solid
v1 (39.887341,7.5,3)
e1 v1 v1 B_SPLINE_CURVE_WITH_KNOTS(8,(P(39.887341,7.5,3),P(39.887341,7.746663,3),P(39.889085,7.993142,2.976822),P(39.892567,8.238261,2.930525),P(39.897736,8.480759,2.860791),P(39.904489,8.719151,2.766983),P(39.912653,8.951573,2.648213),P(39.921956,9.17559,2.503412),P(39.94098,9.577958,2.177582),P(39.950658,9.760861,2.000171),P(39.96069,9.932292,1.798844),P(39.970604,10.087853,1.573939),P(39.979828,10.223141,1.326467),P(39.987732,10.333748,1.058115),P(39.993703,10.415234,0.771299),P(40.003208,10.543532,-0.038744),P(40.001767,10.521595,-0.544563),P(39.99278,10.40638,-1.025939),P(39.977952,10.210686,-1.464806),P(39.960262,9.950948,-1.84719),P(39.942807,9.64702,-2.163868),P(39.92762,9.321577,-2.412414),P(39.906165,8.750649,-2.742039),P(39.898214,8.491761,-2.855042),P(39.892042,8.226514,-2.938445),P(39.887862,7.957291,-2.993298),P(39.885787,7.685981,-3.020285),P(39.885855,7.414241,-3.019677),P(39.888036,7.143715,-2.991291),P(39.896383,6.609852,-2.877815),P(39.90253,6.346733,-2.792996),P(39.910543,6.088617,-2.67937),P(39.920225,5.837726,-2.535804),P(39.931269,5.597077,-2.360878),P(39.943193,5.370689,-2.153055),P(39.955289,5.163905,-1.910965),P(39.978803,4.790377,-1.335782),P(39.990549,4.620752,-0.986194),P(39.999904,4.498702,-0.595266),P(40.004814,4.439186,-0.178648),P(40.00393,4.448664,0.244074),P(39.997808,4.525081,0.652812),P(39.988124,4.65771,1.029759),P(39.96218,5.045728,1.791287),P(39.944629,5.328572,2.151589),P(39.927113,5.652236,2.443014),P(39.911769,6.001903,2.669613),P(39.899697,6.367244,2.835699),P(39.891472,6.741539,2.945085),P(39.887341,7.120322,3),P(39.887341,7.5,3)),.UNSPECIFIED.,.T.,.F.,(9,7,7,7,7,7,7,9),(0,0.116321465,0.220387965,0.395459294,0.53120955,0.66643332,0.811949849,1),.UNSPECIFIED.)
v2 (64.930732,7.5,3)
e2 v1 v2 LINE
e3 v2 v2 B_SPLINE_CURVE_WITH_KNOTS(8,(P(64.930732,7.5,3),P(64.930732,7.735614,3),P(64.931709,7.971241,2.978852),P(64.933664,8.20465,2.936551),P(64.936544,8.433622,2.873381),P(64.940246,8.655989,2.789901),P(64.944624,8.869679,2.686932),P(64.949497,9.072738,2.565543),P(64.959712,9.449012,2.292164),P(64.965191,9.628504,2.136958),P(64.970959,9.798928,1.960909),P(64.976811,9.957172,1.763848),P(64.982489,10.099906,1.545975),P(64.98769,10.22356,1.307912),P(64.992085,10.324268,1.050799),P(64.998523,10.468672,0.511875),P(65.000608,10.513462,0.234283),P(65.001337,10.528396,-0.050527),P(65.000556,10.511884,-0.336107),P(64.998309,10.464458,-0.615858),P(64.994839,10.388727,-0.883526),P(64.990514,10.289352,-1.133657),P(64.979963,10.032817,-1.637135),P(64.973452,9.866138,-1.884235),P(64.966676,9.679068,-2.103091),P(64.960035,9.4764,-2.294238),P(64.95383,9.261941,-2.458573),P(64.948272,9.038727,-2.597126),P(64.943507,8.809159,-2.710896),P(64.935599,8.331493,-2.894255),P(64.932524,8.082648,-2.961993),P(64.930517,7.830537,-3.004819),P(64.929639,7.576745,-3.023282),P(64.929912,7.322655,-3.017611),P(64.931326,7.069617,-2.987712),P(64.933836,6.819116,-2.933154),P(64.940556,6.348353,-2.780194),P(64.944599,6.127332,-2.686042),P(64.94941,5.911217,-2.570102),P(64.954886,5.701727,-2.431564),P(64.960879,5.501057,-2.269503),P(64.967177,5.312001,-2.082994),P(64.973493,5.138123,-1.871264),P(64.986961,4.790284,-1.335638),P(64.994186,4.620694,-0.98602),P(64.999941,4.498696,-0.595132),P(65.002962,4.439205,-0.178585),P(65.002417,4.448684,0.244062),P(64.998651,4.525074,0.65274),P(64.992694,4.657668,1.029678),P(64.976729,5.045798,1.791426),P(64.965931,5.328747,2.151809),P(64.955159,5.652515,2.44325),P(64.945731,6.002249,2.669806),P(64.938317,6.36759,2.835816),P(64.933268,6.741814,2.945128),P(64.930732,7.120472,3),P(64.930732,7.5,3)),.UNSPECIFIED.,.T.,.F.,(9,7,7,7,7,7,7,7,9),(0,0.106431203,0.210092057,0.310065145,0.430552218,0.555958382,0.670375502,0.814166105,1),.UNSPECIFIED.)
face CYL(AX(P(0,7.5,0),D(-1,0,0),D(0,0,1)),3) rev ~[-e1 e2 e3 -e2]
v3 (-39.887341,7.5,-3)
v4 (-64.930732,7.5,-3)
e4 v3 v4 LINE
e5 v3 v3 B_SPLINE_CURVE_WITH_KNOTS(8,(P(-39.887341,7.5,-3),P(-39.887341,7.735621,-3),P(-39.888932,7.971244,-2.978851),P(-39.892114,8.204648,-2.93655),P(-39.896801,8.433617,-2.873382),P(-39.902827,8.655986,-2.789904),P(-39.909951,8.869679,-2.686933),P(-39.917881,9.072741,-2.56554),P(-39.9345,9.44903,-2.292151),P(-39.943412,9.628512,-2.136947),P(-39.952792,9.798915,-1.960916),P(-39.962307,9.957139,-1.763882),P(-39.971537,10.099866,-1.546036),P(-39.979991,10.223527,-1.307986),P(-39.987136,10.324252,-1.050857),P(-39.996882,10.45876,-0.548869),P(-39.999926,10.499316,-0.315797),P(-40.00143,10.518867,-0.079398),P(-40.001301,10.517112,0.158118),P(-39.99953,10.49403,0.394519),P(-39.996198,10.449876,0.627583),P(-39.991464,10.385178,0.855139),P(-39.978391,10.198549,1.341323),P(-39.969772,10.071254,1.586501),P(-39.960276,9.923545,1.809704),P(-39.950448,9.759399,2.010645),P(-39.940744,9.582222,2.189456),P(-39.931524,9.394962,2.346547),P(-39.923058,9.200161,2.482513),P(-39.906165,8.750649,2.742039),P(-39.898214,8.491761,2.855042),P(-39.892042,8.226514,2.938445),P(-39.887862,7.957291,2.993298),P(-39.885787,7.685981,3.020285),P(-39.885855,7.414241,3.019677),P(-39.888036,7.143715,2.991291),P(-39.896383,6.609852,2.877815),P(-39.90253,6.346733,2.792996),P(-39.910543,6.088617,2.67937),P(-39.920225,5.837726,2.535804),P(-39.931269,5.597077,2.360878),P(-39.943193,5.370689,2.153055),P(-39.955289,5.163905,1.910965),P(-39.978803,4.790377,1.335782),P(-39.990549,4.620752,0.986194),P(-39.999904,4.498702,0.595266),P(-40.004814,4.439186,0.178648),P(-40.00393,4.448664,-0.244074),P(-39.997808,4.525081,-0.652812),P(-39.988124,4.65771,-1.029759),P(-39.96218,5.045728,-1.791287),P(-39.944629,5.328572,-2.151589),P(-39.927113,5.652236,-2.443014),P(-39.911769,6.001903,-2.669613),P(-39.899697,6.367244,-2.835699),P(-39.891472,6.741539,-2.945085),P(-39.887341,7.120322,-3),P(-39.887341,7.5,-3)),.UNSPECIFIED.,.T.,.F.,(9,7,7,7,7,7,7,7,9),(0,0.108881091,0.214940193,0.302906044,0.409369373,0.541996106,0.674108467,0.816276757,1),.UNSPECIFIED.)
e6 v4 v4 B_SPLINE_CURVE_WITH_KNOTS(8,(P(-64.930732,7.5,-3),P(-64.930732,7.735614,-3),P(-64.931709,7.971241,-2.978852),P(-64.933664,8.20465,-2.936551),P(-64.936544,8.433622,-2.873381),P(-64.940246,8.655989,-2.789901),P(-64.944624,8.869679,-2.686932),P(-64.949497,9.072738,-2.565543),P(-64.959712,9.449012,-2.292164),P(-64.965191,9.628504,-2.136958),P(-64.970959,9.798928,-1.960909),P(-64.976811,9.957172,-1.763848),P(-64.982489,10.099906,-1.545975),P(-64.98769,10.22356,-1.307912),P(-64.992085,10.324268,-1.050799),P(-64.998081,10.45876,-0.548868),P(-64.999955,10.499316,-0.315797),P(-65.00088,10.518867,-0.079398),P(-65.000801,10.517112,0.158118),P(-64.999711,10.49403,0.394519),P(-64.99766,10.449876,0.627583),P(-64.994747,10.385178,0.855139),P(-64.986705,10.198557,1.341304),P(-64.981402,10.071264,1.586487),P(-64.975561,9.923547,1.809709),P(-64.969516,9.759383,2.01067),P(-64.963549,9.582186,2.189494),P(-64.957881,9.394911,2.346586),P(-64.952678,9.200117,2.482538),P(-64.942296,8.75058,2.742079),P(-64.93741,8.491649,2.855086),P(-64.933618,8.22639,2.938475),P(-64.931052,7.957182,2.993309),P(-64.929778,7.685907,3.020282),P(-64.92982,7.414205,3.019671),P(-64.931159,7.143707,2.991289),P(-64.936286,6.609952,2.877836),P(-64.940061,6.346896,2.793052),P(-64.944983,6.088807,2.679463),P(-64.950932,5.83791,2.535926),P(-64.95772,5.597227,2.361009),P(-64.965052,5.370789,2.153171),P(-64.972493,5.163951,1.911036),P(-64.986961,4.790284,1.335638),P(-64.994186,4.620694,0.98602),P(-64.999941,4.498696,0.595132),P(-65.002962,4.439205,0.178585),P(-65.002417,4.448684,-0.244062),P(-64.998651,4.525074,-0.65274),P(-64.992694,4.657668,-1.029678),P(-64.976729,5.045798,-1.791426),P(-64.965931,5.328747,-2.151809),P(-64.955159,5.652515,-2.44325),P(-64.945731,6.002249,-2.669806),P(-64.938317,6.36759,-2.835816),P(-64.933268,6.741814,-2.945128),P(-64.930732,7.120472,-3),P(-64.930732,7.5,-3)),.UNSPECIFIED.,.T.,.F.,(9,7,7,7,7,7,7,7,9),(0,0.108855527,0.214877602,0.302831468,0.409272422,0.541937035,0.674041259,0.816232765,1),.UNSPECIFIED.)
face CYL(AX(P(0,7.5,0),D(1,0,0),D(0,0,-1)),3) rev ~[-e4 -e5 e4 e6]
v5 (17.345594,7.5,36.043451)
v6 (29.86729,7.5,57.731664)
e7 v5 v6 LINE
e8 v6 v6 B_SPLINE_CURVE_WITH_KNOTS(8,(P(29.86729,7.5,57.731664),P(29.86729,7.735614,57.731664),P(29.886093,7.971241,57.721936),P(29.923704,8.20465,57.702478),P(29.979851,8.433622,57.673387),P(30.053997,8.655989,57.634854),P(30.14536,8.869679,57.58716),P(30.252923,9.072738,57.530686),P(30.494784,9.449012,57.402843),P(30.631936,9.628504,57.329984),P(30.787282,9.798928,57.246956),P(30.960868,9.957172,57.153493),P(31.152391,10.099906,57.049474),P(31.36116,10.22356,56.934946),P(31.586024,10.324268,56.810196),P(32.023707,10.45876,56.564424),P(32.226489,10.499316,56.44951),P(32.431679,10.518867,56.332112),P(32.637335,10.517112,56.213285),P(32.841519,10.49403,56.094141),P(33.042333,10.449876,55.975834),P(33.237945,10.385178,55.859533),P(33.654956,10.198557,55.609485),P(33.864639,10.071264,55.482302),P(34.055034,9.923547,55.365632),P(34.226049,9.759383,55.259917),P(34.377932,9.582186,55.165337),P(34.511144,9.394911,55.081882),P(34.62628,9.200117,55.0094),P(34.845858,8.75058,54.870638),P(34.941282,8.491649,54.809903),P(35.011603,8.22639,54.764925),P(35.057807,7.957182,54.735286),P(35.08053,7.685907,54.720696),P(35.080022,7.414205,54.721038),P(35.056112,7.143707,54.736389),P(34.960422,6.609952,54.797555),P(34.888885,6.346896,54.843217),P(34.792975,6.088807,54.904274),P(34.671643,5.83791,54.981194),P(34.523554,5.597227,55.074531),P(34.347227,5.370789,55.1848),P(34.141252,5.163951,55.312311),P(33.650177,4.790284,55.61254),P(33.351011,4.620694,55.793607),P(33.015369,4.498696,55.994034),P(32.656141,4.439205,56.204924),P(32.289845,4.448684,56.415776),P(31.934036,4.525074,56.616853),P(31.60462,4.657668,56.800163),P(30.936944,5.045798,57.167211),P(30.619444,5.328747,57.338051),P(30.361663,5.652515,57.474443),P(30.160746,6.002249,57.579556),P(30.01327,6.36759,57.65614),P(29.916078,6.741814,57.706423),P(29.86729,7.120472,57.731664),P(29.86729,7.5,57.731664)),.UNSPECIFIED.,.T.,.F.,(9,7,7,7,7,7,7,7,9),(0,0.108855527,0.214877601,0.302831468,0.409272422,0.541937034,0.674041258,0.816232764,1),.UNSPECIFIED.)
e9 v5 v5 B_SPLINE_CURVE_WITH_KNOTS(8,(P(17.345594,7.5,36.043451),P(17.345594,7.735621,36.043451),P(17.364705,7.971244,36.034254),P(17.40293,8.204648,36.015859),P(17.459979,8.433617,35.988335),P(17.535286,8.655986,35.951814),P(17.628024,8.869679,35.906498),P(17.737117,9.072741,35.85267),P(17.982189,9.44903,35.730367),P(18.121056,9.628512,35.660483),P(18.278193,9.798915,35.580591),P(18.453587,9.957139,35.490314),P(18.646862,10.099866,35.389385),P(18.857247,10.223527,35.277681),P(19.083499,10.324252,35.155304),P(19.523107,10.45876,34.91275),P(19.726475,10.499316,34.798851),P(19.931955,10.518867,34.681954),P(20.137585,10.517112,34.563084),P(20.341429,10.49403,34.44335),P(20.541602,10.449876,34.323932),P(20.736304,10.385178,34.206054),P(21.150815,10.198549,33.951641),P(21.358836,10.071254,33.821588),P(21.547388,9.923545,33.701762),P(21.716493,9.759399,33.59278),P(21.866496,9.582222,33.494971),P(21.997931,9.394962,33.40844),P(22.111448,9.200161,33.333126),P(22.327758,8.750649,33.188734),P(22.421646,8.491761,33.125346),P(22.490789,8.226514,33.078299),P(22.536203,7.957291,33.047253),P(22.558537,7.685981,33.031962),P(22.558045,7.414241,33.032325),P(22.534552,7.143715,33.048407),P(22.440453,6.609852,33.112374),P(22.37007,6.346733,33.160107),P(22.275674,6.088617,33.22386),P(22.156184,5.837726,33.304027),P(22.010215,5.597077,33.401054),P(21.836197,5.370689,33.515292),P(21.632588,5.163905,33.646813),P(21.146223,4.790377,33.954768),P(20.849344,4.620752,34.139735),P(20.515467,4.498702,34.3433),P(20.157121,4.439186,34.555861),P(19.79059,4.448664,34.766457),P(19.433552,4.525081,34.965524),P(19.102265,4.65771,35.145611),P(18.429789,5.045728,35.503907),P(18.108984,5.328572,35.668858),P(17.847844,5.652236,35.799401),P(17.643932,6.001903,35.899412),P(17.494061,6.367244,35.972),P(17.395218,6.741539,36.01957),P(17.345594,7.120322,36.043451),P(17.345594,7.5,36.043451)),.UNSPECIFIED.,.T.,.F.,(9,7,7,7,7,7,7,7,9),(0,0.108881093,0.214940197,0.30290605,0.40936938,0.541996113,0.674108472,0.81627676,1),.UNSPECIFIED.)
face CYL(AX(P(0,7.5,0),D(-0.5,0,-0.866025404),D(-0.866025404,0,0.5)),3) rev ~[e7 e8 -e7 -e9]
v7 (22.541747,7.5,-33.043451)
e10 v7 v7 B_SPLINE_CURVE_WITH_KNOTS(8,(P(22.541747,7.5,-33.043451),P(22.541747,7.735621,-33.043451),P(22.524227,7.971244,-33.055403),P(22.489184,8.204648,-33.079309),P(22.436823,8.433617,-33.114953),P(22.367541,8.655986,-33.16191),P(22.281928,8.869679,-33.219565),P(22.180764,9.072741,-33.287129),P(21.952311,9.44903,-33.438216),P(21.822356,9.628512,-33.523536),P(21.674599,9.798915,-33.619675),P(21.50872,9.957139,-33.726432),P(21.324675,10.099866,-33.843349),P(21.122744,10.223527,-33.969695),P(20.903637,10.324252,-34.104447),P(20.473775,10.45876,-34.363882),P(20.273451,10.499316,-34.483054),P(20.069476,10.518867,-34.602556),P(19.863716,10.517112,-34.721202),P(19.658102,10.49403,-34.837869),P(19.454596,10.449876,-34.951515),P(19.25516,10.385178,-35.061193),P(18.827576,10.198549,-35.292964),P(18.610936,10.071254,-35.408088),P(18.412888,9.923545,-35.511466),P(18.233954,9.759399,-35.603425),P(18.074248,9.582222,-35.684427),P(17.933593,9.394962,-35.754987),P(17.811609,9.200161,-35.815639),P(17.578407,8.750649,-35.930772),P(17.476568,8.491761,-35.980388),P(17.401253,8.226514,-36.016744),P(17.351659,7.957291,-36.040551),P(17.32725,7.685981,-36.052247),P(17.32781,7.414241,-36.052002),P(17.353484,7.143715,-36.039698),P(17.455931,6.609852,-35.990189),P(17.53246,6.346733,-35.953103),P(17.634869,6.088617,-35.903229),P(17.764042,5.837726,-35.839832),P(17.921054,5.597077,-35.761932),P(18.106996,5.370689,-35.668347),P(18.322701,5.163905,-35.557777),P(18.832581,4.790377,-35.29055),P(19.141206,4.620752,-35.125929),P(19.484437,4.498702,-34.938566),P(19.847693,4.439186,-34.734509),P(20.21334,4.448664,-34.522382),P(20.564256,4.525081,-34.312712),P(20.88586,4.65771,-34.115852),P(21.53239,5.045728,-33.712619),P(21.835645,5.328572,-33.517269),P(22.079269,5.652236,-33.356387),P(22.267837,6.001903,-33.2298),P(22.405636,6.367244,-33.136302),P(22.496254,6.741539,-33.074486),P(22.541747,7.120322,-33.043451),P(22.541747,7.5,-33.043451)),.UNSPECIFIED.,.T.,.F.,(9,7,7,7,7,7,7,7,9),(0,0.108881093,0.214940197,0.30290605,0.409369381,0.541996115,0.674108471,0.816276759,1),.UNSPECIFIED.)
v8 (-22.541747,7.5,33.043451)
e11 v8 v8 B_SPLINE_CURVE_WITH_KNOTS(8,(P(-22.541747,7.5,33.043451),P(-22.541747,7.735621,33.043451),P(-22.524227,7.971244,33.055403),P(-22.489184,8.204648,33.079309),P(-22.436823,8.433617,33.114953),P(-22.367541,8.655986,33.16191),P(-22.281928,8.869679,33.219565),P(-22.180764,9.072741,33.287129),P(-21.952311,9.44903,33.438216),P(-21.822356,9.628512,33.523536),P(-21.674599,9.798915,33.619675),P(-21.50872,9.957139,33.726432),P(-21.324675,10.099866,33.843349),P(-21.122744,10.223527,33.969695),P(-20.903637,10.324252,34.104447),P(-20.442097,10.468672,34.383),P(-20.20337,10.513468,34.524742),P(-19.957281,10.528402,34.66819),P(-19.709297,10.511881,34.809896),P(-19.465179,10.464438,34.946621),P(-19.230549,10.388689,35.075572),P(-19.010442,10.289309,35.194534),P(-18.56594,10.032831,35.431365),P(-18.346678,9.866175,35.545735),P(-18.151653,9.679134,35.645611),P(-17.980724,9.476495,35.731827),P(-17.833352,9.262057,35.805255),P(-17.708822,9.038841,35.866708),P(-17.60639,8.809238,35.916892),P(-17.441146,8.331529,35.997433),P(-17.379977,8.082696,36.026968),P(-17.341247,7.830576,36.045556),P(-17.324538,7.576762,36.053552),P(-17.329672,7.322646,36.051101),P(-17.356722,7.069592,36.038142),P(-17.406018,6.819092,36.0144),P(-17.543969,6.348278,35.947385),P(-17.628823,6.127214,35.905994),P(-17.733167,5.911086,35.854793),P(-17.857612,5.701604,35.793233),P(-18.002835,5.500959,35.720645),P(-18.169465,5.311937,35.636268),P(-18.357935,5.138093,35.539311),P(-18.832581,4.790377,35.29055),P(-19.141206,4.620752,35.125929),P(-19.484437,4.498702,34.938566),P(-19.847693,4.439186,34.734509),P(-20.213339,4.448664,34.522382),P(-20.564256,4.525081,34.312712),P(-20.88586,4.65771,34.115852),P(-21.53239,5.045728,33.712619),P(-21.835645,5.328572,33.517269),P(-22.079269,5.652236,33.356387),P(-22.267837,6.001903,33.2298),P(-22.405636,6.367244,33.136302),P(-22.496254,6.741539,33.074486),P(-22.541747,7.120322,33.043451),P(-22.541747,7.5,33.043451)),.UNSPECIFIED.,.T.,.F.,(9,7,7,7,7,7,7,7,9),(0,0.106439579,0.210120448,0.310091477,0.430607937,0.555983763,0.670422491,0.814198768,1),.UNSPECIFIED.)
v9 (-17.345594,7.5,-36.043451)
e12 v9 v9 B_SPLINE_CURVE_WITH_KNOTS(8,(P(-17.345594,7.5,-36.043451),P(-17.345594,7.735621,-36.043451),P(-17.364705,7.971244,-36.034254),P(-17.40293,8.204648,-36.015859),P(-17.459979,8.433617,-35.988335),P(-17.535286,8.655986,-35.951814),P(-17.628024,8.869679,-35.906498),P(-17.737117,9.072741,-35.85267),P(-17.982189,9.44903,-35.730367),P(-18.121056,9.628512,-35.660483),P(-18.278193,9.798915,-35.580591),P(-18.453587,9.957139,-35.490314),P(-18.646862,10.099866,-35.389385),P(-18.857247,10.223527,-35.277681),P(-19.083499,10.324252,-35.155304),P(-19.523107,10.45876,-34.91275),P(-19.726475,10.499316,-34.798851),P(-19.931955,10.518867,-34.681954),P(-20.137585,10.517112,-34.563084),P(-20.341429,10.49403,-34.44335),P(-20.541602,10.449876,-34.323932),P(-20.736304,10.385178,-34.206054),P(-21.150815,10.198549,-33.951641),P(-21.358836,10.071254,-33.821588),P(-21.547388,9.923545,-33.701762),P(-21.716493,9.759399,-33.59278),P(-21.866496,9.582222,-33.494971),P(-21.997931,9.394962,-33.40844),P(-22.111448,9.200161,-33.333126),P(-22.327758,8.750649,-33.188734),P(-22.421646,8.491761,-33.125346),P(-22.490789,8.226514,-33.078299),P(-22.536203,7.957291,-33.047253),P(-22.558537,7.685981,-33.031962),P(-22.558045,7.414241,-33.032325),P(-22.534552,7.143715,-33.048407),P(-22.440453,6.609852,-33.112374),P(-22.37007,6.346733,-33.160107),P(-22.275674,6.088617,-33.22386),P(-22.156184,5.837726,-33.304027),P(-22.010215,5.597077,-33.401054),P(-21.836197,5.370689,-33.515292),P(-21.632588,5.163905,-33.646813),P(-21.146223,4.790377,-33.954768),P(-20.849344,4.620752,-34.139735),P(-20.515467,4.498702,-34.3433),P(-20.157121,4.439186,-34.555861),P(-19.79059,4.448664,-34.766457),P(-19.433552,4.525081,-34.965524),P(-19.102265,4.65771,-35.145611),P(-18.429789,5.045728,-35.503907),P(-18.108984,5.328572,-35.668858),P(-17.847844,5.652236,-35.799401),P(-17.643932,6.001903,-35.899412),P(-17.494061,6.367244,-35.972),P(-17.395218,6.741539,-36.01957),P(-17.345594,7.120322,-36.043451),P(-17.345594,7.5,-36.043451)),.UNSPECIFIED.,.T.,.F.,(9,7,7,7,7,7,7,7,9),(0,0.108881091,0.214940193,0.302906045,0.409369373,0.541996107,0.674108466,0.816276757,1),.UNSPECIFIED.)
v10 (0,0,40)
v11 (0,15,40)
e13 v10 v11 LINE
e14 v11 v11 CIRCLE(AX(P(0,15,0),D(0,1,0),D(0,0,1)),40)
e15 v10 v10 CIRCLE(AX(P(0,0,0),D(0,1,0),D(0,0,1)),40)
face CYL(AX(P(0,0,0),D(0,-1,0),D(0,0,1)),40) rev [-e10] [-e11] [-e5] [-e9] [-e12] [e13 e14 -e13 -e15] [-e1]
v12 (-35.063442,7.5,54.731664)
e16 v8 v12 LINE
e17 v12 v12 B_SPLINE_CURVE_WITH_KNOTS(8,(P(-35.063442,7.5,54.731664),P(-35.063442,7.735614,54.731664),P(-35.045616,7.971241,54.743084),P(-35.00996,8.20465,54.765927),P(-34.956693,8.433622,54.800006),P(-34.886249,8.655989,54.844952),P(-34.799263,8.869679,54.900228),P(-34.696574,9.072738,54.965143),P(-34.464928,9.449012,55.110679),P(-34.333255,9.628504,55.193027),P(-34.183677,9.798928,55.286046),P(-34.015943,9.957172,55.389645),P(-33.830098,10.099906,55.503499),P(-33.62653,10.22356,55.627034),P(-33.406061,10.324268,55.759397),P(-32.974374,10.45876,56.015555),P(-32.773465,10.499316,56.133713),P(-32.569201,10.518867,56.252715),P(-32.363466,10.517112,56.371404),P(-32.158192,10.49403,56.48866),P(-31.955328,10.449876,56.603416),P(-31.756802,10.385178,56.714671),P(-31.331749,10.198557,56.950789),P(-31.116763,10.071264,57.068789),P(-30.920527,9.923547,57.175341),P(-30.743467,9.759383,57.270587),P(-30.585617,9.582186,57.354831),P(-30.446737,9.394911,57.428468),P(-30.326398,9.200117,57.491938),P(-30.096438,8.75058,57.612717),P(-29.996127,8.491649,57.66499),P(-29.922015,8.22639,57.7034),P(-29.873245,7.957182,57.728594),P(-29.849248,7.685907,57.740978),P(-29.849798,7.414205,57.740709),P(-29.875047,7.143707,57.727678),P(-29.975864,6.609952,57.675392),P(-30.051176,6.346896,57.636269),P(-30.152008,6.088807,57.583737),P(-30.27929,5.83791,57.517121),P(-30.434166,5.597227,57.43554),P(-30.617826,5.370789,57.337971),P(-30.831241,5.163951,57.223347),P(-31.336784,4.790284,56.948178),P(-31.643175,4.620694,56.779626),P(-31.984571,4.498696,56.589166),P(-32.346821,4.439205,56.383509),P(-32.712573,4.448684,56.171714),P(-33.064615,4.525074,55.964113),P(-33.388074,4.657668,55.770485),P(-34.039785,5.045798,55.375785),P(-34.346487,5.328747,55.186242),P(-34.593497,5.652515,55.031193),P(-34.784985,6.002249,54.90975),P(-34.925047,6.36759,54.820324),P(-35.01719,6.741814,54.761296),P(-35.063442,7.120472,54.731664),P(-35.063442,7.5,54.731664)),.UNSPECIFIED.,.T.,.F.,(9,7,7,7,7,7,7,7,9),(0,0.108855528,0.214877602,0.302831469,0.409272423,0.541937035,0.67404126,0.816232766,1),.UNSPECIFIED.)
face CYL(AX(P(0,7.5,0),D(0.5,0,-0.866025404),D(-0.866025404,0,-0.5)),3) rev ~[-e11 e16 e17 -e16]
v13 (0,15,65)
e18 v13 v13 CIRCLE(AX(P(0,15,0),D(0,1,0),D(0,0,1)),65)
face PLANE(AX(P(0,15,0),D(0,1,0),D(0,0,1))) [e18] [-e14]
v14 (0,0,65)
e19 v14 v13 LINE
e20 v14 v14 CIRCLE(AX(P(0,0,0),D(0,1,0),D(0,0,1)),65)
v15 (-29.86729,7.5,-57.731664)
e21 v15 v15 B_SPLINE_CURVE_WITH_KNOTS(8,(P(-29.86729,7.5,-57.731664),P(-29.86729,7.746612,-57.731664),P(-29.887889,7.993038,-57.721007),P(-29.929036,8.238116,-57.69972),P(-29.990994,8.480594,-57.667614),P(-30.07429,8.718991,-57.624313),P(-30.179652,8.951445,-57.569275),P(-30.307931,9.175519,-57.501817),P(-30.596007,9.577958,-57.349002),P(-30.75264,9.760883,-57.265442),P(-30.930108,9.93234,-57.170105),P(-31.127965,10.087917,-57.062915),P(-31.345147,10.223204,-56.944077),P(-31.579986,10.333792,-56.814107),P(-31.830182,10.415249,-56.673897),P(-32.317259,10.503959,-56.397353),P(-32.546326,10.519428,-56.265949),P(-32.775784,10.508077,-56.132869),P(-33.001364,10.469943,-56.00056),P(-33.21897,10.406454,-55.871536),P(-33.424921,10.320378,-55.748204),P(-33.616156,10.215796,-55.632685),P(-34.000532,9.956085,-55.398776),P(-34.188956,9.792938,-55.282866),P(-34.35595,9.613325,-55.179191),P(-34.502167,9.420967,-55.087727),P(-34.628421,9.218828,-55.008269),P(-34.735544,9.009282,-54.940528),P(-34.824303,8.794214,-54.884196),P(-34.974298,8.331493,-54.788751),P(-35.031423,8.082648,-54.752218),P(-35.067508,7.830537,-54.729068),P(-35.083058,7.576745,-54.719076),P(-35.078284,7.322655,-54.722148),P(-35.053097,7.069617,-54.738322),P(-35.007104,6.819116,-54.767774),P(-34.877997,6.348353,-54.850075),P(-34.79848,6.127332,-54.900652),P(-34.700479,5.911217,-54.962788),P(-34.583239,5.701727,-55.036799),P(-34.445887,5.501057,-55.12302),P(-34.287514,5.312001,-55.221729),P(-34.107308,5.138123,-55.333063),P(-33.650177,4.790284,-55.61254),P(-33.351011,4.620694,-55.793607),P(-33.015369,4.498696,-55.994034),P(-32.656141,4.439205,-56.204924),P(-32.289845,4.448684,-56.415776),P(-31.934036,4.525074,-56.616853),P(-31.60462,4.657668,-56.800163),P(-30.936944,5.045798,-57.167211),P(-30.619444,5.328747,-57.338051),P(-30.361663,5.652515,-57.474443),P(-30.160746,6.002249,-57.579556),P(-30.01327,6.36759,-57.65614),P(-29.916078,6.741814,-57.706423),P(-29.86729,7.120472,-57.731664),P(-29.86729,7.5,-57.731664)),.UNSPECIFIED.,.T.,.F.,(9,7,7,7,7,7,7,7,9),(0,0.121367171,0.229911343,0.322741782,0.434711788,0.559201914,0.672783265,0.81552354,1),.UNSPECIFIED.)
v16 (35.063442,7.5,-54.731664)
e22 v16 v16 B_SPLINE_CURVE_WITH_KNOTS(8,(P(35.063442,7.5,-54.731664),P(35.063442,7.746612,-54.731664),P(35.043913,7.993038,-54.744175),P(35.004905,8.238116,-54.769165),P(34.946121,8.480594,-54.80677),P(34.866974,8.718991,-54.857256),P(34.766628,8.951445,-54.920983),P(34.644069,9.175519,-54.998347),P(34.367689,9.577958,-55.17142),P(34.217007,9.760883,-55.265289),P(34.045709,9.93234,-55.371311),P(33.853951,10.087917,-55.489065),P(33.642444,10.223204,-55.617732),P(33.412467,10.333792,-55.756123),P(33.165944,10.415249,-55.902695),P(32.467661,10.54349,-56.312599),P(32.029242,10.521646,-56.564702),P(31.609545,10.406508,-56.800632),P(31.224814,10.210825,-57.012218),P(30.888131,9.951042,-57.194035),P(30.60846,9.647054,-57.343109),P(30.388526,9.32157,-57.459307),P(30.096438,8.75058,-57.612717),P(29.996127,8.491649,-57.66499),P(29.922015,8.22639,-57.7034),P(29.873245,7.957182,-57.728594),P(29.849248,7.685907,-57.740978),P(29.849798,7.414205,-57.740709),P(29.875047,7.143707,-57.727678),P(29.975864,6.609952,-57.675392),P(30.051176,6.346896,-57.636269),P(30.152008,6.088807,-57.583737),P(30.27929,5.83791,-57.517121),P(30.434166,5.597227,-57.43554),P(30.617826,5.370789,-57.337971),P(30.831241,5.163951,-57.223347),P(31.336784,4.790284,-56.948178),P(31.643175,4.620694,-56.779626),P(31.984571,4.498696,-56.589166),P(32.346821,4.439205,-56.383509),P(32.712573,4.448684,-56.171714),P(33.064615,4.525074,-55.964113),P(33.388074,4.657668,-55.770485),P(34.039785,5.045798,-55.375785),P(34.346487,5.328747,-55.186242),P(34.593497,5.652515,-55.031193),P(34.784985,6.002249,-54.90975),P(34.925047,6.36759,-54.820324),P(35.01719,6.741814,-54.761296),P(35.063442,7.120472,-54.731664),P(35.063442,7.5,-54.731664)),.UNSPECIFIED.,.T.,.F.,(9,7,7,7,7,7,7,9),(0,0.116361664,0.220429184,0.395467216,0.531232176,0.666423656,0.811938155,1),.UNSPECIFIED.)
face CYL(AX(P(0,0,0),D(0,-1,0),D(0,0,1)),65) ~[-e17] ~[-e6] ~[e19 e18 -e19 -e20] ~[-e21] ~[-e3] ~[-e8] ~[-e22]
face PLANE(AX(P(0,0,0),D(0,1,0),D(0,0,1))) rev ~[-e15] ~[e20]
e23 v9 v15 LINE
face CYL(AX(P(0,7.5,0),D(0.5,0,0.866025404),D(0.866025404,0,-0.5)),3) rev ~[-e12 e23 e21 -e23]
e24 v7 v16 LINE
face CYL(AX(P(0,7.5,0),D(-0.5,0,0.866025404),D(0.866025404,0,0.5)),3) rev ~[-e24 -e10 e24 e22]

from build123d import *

# Parameters (mm, degrees)
SKETCH1_R           = 65
SKETCH1_R_2         = 40
BOSS_EXTRUDE1_DEPTH = 15
SKETCH2_R           = 3
CUT_EXTRUDE1_DEPTH  = 94.139680051
CIRPATTERN1_COUNT   = 6


with BuildPart() as part:
    # Sketch1 → Boss-Extrude1 (new body)
    with BuildSketch(Plane(origin=(0, 0, 0), x_dir=(1, 0, 0), z_dir=(0, 1, 0))):
        with Locations(Location((0, 0, 0), (0, 0, 270))):
            Circle(SKETCH1_R)
        with Locations(Location((0, 0, 0), (0, 0, 270))):
            Circle(SKETCH1_R_2, mode=Mode.SUBTRACT)
    extrude(amount=BOSS_EXTRUDE1_DEPTH)

    # Sketch2 → Cut-Extrude1 (cut, through all)
    with BuildSketch(Plane(origin=(0, 0, 0), x_dir=(0, 0, -1), z_dir=(1, 0, 0))):
        with Locations((0, 7.5)):
            Circle(SKETCH2_R)
    cut_extrude1 = extrude(amount=-CUT_EXTRUDE1_DEPTH, mode=Mode.SUBTRACT)

    # CirPattern1: Cut-Extrude1 ×6 about axis
    cirpattern1_axis = Axis((0, 15, 0), (0, 1, 0))
    for i in range(1, CIRPATTERN1_COUNT):
        add(cut_extrude1.rotate(cirpattern1_axis, i * 360 / CIRPATTERN1_COUNT), mode=Mode.SUBTRACT)


solid = part.part
